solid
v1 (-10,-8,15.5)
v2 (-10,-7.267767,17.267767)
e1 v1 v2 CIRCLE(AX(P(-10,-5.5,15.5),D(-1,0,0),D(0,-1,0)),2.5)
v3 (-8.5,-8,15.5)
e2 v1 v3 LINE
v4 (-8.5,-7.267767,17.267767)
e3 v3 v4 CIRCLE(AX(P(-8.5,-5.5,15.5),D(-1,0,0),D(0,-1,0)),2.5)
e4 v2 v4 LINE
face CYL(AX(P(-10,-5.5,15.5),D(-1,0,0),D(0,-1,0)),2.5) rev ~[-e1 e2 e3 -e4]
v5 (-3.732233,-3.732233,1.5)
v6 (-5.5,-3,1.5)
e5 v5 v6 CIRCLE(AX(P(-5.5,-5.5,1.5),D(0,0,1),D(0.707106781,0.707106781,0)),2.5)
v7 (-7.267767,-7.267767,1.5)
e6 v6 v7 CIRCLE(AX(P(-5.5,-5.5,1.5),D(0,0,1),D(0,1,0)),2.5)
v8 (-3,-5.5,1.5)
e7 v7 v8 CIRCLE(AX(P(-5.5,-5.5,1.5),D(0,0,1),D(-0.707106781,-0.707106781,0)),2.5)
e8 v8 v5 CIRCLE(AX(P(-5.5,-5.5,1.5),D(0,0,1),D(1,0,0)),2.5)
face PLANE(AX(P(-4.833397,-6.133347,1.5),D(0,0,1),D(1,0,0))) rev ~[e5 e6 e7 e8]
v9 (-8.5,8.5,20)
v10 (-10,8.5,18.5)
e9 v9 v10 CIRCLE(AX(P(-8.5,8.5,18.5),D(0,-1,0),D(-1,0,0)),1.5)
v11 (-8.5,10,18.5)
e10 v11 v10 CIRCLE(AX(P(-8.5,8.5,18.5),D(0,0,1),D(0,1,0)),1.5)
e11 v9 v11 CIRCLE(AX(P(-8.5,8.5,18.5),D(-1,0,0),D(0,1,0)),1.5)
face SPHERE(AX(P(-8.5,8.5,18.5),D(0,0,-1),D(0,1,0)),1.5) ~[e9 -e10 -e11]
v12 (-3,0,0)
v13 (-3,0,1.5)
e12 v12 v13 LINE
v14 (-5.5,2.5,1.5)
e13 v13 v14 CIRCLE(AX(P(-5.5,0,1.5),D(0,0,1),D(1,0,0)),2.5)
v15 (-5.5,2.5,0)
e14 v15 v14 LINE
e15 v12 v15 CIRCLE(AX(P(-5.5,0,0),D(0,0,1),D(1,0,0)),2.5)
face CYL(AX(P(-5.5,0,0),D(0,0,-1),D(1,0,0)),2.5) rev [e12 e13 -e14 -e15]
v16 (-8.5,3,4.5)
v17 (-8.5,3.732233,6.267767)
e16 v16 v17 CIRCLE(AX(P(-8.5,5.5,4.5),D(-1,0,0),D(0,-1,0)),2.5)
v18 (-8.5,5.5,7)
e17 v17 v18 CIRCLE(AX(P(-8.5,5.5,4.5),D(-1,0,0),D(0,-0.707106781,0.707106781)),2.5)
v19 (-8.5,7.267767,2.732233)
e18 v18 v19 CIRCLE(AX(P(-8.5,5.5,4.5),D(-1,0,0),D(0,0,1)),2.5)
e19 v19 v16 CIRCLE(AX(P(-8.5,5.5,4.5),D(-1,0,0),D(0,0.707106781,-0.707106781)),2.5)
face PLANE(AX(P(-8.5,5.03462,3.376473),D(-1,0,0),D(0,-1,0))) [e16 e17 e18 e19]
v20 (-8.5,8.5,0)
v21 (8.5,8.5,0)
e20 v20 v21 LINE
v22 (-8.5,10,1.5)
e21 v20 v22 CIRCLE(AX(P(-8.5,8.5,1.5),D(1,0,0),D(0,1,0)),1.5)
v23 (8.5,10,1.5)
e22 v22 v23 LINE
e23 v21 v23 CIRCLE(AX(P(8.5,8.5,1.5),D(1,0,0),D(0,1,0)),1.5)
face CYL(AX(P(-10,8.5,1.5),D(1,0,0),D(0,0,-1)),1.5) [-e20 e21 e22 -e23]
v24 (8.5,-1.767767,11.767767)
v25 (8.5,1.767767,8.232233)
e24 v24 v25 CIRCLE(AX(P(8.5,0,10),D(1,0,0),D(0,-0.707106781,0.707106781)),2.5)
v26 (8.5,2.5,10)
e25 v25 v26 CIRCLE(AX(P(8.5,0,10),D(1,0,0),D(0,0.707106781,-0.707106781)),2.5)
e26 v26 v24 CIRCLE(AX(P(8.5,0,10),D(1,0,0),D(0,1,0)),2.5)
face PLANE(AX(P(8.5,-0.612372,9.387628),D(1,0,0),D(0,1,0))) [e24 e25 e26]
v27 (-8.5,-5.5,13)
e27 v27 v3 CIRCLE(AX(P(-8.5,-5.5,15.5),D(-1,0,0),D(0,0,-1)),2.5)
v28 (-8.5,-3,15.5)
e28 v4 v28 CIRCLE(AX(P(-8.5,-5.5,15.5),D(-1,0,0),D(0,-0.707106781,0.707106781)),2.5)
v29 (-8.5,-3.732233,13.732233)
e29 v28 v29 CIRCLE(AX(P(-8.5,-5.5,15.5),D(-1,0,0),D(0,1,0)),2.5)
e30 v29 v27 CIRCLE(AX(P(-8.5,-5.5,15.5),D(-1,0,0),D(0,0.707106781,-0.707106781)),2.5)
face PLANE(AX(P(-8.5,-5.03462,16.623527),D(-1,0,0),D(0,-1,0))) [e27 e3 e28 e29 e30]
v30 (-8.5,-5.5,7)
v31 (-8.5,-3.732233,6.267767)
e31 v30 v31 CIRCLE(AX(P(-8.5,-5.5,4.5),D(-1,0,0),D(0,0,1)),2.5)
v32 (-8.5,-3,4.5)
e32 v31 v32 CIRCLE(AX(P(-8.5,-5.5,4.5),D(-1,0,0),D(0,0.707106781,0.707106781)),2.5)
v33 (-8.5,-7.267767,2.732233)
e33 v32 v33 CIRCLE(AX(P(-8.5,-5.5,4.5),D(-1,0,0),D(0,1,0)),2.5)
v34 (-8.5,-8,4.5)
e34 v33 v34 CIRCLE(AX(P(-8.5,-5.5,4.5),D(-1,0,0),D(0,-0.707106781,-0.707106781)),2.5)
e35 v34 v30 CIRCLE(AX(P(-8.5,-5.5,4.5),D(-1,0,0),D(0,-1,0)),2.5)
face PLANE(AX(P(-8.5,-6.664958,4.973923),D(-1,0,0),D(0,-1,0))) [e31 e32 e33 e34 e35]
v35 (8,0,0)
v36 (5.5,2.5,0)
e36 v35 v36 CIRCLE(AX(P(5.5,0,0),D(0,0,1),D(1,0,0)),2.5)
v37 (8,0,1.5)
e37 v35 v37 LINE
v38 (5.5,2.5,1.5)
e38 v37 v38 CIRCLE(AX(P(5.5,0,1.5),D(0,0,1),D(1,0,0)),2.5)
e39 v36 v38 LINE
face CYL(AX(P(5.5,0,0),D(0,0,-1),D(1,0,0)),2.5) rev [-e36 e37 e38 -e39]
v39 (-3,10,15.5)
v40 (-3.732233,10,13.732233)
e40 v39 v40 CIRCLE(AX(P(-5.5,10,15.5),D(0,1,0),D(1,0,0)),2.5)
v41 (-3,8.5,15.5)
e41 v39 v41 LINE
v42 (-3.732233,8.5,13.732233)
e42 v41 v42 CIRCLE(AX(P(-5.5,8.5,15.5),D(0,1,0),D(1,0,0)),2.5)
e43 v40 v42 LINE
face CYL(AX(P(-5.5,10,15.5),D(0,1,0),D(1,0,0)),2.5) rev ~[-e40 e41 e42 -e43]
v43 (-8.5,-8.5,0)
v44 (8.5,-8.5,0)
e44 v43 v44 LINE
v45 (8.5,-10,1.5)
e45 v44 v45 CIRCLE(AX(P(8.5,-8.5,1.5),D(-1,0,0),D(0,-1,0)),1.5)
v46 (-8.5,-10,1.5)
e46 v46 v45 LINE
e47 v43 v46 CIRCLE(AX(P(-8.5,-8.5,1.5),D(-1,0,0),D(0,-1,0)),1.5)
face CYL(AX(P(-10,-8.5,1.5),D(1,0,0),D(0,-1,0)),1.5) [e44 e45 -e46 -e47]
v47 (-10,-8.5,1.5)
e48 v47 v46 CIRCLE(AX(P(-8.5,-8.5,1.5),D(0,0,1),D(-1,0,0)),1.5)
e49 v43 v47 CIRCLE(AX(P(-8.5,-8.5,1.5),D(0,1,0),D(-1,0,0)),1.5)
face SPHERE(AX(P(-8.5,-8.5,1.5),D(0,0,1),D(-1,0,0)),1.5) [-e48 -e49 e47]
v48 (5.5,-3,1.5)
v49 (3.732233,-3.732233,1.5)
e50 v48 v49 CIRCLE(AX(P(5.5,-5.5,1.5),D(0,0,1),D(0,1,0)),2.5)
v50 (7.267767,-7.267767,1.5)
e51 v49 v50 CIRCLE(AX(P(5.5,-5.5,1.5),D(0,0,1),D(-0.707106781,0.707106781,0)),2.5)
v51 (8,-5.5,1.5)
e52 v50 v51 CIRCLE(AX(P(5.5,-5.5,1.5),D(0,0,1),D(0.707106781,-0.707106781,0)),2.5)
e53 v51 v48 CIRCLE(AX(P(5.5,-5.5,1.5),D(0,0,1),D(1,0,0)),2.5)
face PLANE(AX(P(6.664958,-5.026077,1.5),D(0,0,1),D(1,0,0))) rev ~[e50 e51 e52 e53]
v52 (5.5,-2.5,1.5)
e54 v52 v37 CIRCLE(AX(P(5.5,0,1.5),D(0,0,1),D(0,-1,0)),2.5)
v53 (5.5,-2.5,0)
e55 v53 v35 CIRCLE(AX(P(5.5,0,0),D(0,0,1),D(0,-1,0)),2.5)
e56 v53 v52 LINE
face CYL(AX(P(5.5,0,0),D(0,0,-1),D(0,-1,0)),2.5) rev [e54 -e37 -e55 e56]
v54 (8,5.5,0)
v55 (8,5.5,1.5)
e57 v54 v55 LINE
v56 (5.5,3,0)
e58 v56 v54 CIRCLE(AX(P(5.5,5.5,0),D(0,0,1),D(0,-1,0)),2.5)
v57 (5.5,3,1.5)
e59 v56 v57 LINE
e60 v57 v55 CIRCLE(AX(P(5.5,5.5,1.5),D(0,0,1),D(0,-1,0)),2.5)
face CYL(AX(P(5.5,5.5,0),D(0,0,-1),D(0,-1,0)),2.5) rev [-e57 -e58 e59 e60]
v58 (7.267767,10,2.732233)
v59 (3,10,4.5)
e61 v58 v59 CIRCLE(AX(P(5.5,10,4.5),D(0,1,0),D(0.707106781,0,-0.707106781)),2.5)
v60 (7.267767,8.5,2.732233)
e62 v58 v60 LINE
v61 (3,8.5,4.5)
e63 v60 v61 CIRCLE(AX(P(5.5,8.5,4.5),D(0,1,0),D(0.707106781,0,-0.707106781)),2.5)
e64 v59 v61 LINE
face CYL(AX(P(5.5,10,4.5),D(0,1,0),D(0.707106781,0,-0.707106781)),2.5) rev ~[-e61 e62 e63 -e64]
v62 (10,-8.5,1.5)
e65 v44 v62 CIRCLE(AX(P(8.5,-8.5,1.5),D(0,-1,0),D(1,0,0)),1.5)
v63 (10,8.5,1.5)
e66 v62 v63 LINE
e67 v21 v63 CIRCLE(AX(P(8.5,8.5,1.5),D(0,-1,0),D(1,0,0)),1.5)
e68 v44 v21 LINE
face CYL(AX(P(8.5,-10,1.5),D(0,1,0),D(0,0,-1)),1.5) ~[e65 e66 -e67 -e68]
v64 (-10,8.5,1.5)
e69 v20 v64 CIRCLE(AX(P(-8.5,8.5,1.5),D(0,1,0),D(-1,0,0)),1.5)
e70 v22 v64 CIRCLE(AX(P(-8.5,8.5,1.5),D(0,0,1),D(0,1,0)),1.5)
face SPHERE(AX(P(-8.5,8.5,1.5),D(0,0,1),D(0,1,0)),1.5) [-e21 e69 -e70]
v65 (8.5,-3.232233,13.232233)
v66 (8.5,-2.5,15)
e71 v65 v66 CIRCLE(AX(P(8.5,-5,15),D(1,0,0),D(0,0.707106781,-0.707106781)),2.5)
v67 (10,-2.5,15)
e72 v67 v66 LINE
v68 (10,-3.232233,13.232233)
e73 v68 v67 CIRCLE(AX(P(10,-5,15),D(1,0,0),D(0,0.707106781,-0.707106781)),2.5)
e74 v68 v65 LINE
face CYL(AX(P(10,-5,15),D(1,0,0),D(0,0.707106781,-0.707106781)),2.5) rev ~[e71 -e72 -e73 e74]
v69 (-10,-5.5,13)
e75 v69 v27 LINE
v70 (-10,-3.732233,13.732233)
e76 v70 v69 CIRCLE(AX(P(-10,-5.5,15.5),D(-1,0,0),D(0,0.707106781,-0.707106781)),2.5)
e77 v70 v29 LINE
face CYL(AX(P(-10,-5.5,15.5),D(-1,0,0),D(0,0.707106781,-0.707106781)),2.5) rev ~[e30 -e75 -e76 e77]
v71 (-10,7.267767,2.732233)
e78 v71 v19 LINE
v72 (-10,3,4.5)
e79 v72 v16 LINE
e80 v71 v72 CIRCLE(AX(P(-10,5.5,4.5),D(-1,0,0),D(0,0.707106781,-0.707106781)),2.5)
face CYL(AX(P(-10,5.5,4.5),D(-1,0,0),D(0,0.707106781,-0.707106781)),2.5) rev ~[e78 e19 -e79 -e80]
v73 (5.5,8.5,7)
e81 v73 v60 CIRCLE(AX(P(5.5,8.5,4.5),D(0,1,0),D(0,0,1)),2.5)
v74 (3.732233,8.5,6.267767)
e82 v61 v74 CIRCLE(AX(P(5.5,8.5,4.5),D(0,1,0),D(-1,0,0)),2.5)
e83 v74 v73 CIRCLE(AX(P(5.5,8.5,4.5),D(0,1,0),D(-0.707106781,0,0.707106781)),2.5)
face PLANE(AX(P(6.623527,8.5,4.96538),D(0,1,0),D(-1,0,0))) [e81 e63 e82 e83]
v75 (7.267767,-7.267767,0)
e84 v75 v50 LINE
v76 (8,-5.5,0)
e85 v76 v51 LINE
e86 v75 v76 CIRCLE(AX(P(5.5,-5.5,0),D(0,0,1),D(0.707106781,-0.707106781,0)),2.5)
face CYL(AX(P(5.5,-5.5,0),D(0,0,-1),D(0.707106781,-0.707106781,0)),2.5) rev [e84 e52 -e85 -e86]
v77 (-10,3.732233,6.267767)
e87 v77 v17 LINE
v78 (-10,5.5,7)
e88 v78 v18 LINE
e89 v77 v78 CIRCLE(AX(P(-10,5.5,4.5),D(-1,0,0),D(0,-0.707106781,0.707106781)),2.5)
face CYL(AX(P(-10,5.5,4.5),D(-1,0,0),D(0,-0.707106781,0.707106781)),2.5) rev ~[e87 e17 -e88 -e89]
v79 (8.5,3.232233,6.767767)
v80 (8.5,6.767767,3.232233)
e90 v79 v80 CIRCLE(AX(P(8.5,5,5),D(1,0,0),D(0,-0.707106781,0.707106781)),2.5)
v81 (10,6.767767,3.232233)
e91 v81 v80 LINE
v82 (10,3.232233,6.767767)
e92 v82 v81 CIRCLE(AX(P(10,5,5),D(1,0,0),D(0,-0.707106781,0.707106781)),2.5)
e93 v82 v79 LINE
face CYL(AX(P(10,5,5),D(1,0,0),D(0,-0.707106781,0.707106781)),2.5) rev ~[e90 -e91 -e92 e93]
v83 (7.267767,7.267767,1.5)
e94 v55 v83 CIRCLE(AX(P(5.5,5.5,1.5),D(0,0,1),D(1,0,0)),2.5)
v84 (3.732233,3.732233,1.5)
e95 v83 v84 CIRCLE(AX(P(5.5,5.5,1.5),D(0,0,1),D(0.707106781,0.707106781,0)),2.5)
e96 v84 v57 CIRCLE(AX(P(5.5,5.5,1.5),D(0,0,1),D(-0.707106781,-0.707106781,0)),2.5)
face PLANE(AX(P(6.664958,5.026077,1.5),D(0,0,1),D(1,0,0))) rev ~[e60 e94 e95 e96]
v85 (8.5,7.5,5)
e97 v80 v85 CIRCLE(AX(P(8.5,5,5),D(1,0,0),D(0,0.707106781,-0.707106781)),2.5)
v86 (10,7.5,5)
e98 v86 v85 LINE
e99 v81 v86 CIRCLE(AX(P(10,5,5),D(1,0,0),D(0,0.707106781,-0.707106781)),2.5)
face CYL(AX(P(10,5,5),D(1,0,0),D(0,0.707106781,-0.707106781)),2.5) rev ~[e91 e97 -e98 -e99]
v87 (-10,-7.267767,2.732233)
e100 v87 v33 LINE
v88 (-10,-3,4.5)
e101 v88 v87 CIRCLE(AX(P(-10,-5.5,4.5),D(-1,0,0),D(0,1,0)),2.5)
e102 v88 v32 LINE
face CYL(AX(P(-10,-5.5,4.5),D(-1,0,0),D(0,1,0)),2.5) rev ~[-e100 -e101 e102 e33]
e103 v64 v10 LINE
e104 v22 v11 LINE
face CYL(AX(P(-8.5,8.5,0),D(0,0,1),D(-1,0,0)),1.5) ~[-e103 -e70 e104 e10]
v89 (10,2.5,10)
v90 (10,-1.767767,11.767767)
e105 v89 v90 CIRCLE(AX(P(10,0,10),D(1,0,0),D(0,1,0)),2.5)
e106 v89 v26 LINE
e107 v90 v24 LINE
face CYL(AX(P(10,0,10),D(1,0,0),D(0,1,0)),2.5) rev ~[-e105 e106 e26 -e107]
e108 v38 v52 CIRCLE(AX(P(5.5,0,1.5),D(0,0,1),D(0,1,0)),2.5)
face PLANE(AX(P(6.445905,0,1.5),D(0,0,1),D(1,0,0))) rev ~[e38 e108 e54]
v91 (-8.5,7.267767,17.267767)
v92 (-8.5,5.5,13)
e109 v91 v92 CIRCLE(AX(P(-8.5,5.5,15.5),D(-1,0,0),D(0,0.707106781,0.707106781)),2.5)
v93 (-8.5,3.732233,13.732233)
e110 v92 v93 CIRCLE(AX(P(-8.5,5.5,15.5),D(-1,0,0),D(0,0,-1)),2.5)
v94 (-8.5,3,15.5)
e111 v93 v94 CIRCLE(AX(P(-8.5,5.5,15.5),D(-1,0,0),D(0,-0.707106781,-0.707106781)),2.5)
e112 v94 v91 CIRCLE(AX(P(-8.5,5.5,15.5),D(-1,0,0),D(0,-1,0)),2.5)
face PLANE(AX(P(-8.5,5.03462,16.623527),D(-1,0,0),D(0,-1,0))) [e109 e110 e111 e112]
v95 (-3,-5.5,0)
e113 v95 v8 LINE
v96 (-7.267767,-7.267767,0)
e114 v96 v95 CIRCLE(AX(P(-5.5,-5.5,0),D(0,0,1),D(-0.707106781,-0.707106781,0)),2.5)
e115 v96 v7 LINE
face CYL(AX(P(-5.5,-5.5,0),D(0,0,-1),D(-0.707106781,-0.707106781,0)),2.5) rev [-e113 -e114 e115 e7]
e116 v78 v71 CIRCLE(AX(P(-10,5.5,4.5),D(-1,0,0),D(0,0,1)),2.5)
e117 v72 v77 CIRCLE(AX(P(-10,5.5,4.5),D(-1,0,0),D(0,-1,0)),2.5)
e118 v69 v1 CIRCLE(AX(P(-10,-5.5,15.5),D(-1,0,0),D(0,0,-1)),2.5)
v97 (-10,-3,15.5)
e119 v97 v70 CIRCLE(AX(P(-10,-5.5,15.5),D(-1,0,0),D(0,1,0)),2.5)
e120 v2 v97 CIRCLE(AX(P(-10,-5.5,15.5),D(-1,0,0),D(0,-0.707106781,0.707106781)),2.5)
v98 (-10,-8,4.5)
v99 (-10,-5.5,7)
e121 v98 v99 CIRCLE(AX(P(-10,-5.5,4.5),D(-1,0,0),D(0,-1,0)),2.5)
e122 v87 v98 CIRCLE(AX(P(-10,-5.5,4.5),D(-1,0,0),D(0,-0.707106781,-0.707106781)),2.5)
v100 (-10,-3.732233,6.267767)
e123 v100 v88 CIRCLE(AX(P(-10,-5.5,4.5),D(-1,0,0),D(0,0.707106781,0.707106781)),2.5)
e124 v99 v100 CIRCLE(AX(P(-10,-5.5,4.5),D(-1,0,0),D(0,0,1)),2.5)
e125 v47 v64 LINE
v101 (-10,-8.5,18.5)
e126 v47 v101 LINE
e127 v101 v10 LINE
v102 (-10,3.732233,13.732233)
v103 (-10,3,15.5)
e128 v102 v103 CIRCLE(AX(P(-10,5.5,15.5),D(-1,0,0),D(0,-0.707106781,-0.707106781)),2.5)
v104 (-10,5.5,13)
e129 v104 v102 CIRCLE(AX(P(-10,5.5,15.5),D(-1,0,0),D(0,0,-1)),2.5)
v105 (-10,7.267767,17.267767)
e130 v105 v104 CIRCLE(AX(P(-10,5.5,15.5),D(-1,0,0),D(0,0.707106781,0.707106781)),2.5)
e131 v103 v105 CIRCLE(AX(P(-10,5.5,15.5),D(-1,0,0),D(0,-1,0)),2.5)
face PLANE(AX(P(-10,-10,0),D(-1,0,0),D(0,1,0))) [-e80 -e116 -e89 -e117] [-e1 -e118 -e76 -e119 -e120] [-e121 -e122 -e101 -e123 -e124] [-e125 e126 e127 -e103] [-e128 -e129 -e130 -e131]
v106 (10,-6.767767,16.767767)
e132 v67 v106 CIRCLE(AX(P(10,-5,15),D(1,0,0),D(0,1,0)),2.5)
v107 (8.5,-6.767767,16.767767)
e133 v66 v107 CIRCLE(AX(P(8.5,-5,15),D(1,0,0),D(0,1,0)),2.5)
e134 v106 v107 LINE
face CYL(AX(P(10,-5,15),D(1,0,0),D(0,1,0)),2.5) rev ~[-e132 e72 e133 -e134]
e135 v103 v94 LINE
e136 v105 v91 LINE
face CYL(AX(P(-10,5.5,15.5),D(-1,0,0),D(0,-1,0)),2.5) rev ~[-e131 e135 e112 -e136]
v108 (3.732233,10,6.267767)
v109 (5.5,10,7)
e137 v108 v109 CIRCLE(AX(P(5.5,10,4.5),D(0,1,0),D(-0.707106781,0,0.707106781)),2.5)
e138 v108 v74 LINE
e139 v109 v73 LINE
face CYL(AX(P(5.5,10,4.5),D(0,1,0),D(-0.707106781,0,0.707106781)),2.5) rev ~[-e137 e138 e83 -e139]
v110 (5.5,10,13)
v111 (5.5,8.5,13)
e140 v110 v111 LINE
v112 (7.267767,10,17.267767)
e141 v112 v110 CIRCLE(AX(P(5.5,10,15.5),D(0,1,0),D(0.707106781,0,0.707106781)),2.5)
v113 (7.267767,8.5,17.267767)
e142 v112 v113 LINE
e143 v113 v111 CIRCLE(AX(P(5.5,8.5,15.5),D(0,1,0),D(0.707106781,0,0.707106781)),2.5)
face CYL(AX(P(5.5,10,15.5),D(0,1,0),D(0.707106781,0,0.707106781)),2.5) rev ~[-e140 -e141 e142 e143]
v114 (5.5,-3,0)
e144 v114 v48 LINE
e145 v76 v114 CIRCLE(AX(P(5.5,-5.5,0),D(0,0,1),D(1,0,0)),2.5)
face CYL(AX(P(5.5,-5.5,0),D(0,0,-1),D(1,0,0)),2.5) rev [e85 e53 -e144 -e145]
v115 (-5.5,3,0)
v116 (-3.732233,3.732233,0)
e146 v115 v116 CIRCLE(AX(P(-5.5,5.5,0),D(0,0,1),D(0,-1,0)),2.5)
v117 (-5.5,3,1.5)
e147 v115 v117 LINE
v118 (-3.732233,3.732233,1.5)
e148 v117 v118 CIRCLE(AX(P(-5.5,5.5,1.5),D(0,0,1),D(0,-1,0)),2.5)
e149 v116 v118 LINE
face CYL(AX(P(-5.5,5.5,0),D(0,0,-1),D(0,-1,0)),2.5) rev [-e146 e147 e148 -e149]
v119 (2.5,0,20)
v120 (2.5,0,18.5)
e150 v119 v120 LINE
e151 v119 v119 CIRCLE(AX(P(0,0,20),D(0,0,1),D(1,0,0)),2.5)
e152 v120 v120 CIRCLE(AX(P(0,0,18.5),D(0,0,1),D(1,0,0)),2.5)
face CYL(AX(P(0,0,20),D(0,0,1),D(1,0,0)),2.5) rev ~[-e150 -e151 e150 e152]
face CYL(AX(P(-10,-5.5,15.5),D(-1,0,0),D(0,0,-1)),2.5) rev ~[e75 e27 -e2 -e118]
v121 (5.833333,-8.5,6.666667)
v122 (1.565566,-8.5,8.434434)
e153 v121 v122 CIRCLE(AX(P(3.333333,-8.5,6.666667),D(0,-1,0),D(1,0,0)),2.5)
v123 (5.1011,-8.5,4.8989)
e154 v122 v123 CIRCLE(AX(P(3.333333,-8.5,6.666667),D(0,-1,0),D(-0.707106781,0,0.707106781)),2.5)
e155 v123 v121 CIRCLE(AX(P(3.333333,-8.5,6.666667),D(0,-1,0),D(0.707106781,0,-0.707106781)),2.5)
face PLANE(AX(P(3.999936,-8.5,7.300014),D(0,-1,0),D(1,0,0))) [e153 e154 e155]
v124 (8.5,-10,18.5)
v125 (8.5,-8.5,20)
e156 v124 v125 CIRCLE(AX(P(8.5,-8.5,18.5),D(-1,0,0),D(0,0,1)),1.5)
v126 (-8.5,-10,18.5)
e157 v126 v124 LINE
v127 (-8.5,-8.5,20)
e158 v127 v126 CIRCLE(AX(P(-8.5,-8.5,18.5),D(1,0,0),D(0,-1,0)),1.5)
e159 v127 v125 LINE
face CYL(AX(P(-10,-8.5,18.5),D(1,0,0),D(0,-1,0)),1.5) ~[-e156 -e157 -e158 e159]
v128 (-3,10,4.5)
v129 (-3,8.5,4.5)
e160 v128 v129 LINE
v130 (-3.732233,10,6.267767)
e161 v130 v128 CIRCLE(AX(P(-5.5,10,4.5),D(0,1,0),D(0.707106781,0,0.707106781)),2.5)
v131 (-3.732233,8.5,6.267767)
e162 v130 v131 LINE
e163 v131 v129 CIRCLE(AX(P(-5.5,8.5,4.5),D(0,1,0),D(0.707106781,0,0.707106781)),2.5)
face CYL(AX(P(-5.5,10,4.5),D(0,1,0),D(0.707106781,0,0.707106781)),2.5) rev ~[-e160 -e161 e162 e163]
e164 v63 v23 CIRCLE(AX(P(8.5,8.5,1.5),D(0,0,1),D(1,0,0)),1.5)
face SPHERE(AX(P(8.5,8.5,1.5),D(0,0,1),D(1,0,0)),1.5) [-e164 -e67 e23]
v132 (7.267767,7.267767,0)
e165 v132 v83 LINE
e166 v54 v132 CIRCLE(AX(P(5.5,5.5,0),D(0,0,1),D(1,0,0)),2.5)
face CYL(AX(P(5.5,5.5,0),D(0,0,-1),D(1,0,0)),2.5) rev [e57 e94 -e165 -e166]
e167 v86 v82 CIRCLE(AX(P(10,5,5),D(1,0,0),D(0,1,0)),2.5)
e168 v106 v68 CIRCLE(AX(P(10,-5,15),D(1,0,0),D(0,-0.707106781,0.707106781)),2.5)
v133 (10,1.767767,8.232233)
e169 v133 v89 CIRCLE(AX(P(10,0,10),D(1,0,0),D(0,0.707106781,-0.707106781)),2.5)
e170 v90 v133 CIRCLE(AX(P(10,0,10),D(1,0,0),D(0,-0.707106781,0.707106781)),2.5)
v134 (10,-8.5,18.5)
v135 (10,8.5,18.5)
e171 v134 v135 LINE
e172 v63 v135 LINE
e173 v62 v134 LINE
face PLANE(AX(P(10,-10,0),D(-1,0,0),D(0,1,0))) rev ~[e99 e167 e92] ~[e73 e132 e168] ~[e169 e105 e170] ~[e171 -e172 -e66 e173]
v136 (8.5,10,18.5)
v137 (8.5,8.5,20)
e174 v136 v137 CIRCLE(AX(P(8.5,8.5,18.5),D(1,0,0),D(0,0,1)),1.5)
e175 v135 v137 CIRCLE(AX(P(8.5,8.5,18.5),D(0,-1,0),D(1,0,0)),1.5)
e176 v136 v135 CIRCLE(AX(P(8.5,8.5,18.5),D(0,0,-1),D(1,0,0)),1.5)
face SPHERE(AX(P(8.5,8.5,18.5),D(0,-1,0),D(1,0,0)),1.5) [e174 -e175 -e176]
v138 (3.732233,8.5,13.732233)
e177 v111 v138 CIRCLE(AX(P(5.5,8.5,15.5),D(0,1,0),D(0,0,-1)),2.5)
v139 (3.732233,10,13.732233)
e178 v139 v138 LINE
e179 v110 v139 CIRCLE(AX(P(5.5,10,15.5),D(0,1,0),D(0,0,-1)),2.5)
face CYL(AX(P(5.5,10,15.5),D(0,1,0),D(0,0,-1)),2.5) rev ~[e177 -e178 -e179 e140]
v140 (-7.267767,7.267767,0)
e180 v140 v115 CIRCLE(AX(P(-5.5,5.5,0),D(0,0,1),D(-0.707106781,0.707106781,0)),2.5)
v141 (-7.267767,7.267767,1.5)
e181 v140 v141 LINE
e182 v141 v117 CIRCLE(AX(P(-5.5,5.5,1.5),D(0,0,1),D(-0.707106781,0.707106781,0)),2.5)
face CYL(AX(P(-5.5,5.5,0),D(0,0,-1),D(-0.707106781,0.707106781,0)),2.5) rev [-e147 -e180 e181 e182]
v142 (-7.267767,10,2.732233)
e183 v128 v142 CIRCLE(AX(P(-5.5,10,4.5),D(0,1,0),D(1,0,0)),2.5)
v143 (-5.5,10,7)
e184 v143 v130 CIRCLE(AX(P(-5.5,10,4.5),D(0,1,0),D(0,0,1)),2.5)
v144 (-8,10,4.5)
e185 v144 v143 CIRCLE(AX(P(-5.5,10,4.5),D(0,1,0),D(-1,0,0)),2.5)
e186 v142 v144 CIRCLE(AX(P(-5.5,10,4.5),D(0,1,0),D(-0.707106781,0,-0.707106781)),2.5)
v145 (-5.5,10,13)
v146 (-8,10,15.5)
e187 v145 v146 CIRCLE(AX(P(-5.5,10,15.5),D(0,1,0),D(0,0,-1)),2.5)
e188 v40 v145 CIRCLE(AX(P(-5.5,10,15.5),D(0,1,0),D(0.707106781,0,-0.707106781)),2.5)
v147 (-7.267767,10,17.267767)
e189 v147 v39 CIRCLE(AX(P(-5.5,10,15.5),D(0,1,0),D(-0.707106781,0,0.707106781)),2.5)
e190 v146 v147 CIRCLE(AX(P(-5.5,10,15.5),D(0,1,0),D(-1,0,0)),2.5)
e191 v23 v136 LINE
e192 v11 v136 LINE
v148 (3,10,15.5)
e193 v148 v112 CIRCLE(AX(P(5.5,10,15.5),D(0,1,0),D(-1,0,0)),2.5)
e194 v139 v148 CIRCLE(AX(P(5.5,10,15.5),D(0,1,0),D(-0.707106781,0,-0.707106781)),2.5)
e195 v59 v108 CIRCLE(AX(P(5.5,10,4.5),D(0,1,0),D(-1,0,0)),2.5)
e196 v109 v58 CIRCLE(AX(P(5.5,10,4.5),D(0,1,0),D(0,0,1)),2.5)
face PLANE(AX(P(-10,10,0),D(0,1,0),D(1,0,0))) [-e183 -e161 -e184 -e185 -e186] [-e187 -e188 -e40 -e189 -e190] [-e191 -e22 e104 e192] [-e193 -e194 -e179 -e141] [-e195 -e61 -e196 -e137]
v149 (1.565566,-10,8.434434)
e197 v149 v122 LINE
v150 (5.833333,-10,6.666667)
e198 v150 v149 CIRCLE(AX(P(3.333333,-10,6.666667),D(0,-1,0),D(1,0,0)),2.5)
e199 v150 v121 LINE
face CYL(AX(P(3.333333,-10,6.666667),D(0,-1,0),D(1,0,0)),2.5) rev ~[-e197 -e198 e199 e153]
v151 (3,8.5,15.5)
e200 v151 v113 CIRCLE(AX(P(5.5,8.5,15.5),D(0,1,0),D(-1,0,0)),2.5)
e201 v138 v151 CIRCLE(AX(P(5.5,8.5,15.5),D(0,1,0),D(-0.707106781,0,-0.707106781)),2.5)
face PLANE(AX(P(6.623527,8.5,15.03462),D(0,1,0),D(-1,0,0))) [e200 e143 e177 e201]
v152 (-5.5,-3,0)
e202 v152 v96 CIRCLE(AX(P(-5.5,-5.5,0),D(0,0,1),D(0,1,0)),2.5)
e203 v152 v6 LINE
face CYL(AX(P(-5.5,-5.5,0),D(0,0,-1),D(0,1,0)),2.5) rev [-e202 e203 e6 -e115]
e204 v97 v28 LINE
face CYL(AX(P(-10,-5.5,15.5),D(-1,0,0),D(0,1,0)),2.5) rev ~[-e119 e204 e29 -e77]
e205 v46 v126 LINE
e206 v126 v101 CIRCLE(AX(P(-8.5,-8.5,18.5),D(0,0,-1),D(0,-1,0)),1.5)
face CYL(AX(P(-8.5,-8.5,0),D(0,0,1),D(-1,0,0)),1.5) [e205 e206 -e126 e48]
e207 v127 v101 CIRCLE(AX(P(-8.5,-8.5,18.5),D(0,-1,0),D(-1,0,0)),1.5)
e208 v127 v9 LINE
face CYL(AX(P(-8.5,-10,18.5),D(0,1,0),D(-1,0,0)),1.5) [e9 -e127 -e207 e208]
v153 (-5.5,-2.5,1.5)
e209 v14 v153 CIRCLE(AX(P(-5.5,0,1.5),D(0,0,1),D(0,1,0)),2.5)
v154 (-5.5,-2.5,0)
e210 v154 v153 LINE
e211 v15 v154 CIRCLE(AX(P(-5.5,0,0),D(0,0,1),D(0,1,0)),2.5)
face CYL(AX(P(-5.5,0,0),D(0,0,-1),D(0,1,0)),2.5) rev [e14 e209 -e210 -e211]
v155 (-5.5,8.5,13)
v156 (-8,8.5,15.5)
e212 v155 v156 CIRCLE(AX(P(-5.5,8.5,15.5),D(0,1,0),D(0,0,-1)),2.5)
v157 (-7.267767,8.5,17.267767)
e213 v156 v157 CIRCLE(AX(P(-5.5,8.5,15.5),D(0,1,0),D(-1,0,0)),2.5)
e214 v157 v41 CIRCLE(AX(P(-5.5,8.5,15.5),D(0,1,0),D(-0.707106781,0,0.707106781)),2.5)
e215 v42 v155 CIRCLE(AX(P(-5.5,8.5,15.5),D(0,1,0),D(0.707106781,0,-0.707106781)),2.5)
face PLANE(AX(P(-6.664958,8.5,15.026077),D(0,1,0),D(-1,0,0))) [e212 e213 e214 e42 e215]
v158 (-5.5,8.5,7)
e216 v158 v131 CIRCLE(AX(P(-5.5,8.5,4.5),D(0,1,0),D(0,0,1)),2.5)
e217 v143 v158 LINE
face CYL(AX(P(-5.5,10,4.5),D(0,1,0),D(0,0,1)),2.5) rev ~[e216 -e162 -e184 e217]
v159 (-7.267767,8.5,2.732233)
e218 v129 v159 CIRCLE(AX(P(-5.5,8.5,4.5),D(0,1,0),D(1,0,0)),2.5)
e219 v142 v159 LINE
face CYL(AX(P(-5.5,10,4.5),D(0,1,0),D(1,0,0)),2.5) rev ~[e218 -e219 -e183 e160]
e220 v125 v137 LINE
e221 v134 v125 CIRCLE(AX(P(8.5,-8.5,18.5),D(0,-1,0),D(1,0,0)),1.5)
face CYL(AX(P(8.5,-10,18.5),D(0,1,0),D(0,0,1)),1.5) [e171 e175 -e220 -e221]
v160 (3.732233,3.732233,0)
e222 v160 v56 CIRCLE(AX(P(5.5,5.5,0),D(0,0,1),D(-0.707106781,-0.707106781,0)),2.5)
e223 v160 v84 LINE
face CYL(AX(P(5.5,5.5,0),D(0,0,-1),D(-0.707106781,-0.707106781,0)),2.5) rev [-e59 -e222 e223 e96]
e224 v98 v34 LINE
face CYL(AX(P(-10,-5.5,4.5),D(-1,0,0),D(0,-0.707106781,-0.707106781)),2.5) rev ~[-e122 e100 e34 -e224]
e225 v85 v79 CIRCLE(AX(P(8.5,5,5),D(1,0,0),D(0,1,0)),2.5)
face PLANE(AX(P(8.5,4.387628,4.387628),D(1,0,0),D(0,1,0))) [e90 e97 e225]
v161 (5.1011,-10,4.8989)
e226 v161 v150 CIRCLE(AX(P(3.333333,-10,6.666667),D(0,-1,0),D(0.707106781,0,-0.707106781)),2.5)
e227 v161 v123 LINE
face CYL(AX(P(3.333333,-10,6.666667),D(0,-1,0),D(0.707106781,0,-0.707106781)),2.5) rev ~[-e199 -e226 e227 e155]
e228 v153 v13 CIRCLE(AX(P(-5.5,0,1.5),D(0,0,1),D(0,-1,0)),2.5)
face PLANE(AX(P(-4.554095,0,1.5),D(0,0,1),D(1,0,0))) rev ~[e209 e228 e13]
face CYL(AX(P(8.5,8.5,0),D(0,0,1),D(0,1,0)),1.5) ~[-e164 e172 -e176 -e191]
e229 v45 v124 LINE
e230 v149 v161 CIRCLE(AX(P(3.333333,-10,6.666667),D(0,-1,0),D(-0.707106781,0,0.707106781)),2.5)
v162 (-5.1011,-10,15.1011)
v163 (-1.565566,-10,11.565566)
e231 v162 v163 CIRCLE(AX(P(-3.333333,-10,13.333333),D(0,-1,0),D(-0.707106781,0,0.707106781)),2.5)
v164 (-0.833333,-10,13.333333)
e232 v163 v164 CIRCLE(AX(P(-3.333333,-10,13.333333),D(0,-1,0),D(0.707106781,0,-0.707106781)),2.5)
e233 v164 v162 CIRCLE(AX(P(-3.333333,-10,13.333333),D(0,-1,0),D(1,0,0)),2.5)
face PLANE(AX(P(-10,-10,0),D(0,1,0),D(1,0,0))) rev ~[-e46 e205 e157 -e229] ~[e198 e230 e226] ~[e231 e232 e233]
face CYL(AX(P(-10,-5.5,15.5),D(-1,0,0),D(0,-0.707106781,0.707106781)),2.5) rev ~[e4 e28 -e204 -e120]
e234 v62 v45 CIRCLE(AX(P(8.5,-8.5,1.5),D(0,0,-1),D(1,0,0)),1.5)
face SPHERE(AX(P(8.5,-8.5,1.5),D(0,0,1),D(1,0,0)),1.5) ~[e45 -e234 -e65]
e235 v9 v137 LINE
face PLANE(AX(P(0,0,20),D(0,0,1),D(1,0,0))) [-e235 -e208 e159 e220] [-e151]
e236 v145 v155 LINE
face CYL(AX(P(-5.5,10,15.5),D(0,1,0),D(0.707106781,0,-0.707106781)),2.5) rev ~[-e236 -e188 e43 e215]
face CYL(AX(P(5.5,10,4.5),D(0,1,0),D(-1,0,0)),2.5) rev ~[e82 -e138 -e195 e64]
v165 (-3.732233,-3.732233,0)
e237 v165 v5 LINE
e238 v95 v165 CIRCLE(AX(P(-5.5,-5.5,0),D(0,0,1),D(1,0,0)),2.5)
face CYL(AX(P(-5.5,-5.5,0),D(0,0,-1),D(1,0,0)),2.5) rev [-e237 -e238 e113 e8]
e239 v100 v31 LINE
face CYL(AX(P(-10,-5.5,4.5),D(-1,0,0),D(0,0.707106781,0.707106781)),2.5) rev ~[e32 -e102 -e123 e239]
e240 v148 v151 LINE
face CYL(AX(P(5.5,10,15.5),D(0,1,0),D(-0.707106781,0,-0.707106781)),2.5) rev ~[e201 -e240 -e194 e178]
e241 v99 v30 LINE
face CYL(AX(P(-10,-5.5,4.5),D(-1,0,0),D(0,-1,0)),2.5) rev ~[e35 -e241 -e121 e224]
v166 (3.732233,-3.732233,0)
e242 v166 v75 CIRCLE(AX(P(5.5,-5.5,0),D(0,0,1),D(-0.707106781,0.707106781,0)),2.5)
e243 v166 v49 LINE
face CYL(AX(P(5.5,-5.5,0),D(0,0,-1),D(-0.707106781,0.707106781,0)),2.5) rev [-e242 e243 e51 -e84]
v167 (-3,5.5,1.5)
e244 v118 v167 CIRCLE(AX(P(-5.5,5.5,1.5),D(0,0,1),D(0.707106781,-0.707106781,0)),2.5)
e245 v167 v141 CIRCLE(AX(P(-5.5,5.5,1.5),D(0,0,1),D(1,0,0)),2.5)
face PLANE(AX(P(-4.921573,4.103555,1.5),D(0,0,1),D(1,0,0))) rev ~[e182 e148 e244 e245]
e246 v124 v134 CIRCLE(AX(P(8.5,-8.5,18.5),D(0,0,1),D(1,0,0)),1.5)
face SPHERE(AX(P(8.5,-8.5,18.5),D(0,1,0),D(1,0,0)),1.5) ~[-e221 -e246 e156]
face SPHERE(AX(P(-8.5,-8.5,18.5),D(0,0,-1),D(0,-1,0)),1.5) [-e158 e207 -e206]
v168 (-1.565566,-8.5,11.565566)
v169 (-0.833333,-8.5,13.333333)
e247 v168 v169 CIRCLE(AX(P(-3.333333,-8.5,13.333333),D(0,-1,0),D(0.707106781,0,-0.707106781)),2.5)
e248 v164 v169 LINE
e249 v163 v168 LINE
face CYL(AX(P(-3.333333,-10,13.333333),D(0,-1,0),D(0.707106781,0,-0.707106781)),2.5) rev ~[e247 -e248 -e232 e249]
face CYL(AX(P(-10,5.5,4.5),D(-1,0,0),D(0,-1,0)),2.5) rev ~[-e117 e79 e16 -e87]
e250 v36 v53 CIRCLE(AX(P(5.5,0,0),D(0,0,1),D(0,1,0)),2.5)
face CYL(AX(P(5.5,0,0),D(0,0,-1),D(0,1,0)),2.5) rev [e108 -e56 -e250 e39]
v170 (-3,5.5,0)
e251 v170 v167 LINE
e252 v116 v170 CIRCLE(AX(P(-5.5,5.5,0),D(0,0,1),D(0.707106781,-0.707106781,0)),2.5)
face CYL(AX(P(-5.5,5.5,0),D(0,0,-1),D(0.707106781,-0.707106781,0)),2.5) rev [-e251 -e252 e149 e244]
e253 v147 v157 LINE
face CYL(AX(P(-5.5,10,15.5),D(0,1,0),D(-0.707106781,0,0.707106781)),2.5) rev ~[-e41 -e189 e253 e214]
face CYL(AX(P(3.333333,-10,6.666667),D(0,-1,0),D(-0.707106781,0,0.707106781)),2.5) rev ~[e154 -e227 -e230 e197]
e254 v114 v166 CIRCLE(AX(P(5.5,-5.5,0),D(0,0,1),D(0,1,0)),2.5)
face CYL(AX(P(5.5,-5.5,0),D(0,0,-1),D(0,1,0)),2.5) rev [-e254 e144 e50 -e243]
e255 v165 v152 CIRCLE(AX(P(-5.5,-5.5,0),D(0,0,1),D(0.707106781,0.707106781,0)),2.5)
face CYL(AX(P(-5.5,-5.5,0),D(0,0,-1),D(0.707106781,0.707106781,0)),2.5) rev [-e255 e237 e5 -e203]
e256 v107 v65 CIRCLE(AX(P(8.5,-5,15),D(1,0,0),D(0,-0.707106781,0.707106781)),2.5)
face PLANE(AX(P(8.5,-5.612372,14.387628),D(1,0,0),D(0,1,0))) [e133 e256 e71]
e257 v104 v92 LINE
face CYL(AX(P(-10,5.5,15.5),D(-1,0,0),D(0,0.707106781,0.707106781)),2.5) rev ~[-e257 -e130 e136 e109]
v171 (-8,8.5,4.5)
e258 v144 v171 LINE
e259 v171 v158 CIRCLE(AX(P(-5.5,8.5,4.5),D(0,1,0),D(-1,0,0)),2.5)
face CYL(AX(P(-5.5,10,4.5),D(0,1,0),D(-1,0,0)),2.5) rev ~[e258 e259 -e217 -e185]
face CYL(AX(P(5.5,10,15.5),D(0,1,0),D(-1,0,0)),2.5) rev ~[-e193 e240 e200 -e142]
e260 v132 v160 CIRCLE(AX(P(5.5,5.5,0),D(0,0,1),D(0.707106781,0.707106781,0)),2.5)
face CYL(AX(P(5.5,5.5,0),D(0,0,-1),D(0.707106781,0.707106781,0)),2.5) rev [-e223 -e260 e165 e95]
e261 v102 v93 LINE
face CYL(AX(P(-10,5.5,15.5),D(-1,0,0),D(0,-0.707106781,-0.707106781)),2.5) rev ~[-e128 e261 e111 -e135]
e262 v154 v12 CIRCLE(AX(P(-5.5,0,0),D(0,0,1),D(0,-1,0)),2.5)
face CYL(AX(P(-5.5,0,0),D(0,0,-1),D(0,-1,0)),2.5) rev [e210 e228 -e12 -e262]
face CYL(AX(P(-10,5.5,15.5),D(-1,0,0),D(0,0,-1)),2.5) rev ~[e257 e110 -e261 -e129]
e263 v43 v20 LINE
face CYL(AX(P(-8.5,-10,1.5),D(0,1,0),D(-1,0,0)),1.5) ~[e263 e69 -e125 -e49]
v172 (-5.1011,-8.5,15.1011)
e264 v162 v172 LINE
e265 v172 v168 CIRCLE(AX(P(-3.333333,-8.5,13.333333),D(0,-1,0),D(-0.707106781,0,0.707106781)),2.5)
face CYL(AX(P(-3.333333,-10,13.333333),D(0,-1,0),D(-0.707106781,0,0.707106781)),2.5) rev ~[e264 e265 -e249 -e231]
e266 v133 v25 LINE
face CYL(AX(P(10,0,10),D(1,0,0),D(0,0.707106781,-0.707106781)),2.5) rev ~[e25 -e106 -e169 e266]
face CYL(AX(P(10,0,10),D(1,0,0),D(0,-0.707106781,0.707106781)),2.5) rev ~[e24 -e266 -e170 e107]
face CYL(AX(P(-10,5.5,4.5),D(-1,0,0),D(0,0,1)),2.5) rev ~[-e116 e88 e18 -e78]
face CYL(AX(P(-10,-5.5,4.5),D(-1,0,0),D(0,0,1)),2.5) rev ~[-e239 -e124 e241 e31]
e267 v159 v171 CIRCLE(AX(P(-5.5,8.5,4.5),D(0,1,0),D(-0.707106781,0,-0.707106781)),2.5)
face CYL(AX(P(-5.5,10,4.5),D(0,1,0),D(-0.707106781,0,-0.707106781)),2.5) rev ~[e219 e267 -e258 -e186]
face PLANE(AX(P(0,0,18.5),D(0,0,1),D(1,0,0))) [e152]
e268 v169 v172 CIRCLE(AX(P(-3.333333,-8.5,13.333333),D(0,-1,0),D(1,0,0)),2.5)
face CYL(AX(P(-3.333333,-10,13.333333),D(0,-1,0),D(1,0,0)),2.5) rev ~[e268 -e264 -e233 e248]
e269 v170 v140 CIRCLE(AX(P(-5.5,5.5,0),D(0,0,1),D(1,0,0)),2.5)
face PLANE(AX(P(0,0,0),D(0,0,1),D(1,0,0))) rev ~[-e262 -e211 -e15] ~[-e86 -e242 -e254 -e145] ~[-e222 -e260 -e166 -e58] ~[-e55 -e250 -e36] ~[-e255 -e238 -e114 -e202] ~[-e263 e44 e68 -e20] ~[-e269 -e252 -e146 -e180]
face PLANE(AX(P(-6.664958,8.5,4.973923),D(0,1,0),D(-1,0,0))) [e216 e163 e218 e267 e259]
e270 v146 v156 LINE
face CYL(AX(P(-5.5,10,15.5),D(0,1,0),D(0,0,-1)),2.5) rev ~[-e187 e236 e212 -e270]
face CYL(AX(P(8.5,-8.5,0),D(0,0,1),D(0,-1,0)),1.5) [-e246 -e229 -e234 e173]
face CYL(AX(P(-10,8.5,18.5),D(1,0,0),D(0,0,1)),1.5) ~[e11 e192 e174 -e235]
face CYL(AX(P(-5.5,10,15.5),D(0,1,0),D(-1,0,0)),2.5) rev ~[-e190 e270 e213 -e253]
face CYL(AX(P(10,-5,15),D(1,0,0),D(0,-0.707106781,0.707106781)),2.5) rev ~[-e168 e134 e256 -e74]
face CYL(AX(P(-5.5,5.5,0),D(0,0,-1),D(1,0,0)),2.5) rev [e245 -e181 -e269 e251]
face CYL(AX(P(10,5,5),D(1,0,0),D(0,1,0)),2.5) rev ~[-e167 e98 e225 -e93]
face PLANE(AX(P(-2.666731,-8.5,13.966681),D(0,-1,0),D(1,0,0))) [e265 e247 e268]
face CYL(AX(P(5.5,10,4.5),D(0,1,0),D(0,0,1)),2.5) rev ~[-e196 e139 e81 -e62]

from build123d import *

# Parameters (mm, degrees)
F1_W      = 20
F1_H      = 20
F2_DEPTH  = 20
F3_R      = 2.5
F9_DEPTH  = 1.5
F10_DEPTH = 1.5
F11_DEPTH = 1.5
F12_DEPTH = 1.5
F13_DEPTH = 1.5
F14_DEPTH = 1.5
F15_R     = 1.5


with BuildPart() as f2:
    # F1 (on Top) → F2 (new body)
    with BuildSketch(Plane.XY):
        Rectangle(F1_W, F1_H)
    extrude(amount=F2_DEPTH)

    # F3 (on face) → F9 (cut)
    with BuildSketch(Plane.XY.offset(20)):
        Circle(F3_R)
    extrude(amount=-F9_DEPTH, mode=Mode.SUBTRACT)

    # F6 (on face) → F10 (cut)
    with BuildSketch(Plane.XZ.offset(10)):
        with BuildLine():
            ThreePointArc((-0.8333333333, 13.3333333333), (-2.3766247524, 15.6430321646), (-5.1011002863, 15.1011002863))
            Line((-5.1011002863, 15.1011002863), (-3.3333333333, 13.3333333333))
            Line((-3.3333333333, 13.3333333333), (-1.5655663804, 11.5655663804))
            ThreePointArc((-1.5655663804, 11.5655663804), (-1.0236345021, 12.3766247524), (-0.8333333333, 13.3333333333))
        make_face()
        with BuildLine():
            Line((-3.3333333333, 13.3333333333), (-5.1011002863, 15.1011002863))
            ThreePointArc((-5.1011002863, 15.1011002863), (-5.1011002863, 11.5655663804), (-1.5655663804, 11.5655663804))
            Line((-1.5655663804, 11.5655663804), (-3.3333333333, 13.3333333333))
        make_face()
        with BuildLine():
            ThreePointArc((5.8333333333, 6.6666666667), (4.2900419142, 8.9763654979), (1.5655663804, 8.4344336196))
            Line((1.5655663804, 8.4344336196), (3.3333333333, 6.6666666667))
            Line((3.3333333333, 6.6666666667), (5.1011002863, 4.8988997137))
            ThreePointArc((5.1011002863, 4.8988997137), (5.6430321646, 5.7099580858), (5.8333333333, 6.6666666667))
        make_face()
        with BuildLine():
            Line((3.3333333333, 6.6666666667), (1.5655663804, 8.4344336196))
            ThreePointArc((1.5655663804, 8.4344336196), (1.5655663804, 4.8988997137), (5.1011002863, 4.8988997137))
            Line((5.1011002863, 4.8988997137), (3.3333333333, 6.6666666667))
        make_face()
    extrude(amount=-F10_DEPTH, mode=Mode.SUBTRACT)

    # F8 (on face) → F11 (cut)
    with BuildSketch(Plane.YZ.offset(10)):
        with BuildLine():
            Line((-5, 15), (-6.767766953, 16.767766953))
            ThreePointArc((-6.767766953, 16.767766953), (-6.767766953, 13.232233047), (-3.232233047, 13.232233047))
            Line((-3.232233047, 13.232233047), (-5, 15))
        make_face()
        with BuildLine():
            ThreePointArc((-2.5, 15), (-4.0432914191, 17.3096988313), (-6.767766953, 16.767766953))
            Line((-6.767766953, 16.767766953), (-5, 15))
            Line((-5, 15), (-3.232233047, 13.232233047))
            ThreePointArc((-3.232233047, 13.232233047), (-2.6903011687, 14.0432914191), (-2.5, 15))
        make_face()
        with BuildLine():
            Line((0, 10), (-1.767766953, 11.767766953))
            ThreePointArc((-1.767766953, 11.767766953), (-1.767766953, 8.232233047), (1.767766953, 8.232233047))
            Line((1.767766953, 8.232233047), (0, 10))
        make_face()
        with BuildLine():
            ThreePointArc((2.5, 10), (0.9567085809, 12.3096988313), (-1.767766953, 11.767766953))
            Line((-1.767766953, 11.767766953), (0, 10))
            Line((0, 10), (1.767766953, 8.232233047))
            ThreePointArc((1.767766953, 8.232233047), (2.3096988313, 9.0432914191), (2.5, 10))
        make_face()
        with BuildLine():
            ThreePointArc((3.232233047, 6.767766953), (3.232233047, 3.232233047), (6.767766953, 3.232233047))
            Line((6.767766953, 3.232233047), (5, 5))
            Line((5, 5), (3.232233047, 6.767766953))
        make_face()
        with BuildLine():
            Line((5, 5), (6.767766953, 3.232233047))
            ThreePointArc((6.767766953, 3.232233047), (7.3096988313, 4.0432914191), (7.5, 5))
            ThreePointArc((7.5, 5), (5.9567085809, 7.3096988313), (3.232233047, 6.767766953))
            Line((3.232233047, 6.767766953), (5, 5))
        make_face()
    extrude(amount=-F11_DEPTH, mode=Mode.SUBTRACT)

    # F7 (on face) → F12 (cut)
    with BuildSketch(Plane(origin=(-10, 0, 0), x_dir=(0, -1, 0), z_dir=(-1, 0, 0))):
        with BuildLine():
            ThreePointArc((-3, 15.5), (-4.5432914191, 17.8096988313), (-7.267766953, 17.267766953))
            Line((-7.267766953, 17.267766953), (-5.5, 15.5))
            Line((-5.5, 15.5), (-3, 15.5))
        make_face()
        with BuildLine():
            Line((-5.5, 15.5), (-7.267766953, 17.267766953))
            ThreePointArc((-7.267766953, 17.267766953), (-7.8096988313, 14.5432914191), (-5.5, 13))
            Line((-5.5, 13), (-5.5, 15.5))
        make_face()
        with BuildLine():
            Line((-3.732233047, 13.732233047), (-5.5, 15.5))
            Line((-5.5, 15.5), (-5.5, 13))
            ThreePointArc((-5.5, 13), (-4.5432914191, 13.1903011687), (-3.732233047, 13.732233047))
        make_face()
        with BuildLine():
            Line((-3, 15.5), (-5.5, 15.5))
            Line((-5.5, 15.5), (-3.732233047, 13.732233047))
            ThreePointArc((-3.732233047, 13.732233047), (-3.1903011687, 14.5432914191), (-3, 15.5))
        make_face()
        with BuildLine():
            Line((5.5, 15.5), (7.267766953, 17.267766953))
            ThreePointArc((7.267766953, 17.267766953), (4.5432914191, 17.8096988313), (3, 15.5))
            Line((3, 15.5), (5.5, 15.5))
        make_face()
        with BuildLine():
            ThreePointArc((8, 15.5), (7.8096988313, 16.4567085809), (7.267766953, 17.267766953))
            Line((7.267766953, 17.267766953), (5.5, 15.5))
            Line((5.5, 15.5), (5.5, 13))
            ThreePointArc((5.5, 13), (7.267766953, 13.732233047), (8, 15.5))
        make_face()
        with BuildLine():
            Line((5.5, 13), (5.5, 15.5))
            Line((5.5, 15.5), (3.732233047, 13.732233047))
            ThreePointArc((3.732233047, 13.732233047), (4.5432914191, 13.1903011687), (5.5, 13))
        make_face()
        with BuildLine():
            Line((5.5, 15.5), (3, 15.5))
            ThreePointArc((3, 15.5), (3.1903011687, 14.5432914191), (3.732233047, 13.732233047))
            Line((3.732233047, 13.732233047), (5.5, 15.5))
        make_face()
        with BuildLine():
            Line((5.5, 4.5), (7.267766953, 2.732233047))
            ThreePointArc((7.267766953, 2.732233047), (7.8096988313, 3.5432914191), (8, 4.5))
            ThreePointArc((8, 4.5), (7.267766953, 6.267766953), (5.5, 7))
            Line((5.5, 7), (5.5, 4.5))
        make_face()
        with BuildLine():
            ThreePointArc((3, 4.5), (4.5432914191, 2.1903011687), (7.267766953, 2.732233047))
            Line((7.267766953, 2.732233047), (5.5, 4.5))
            Line((5.5, 4.5), (3, 4.5))
        make_face()
        with BuildLine():
            Line((3.732233047, 6.267766953), (5.5, 4.5))
            Line((5.5, 4.5), (5.5, 7))
            ThreePointArc((5.5, 7), (4.5432914191, 6.8096988313), (3.732233047, 6.267766953))
        make_face()
        with BuildLine():
            ThreePointArc((3.732233047, 6.267766953), (3.1903011687, 5.4567085809), (3, 4.5))
            Line((3, 4.5), (5.5, 4.5))
            Line((5.5, 4.5), (3.732233047, 6.267766953))
        make_face()
        with BuildLine():
            Line((-5.5, 4.5), (-7.267766953, 2.732233047))
            ThreePointArc((-7.267766953, 2.732233047), (-4.5432914191, 2.1903011687), (-3, 4.5))
            Line((-3, 4.5), (-5.5, 4.5))
        make_face()
        with BuildLine():
            Line((-3.732233047, 6.267766953), (-5.5, 4.5))
            Line((-5.5, 4.5), (-3, 4.5))
            ThreePointArc((-3, 4.5), (-3.1903011687, 5.4567085809), (-3.732233047, 6.267766953))
        make_face()
        with BuildLine():
            ThreePointArc((-3.732233047, 6.267766953), (-4.5432914191, 6.8096988313), (-5.5, 7))
            Line((-5.5, 7), (-5.5, 4.5))
            Line((-5.5, 4.5), (-3.732233047, 6.267766953))
        make_face()
        with BuildLine():
            ThreePointArc((-5.5, 7), (-7.8096988313, 5.4567085809), (-7.267766953, 2.732233047))
            Line((-7.267766953, 2.732233047), (-5.5, 4.5))
            Line((-5.5, 4.5), (-5.5, 7))
        make_face()
    extrude(amount=-F12_DEPTH, mode=Mode.SUBTRACT)

    # F5 (on face) → F13 (cut)
    with BuildSketch(Plane(origin=(0, 10, 0), x_dir=(-1, 0, 0), z_dir=(0, 1, 0))):
        with BuildLine():
            ThreePointArc((-5.5, 7), (-7.8096988313, 5.4567085809), (-7.267766953, 2.732233047))
            Line((-7.267766953, 2.732233047), (-5.5, 4.5))
            Line((-5.5, 4.5), (-5.5, 7))
        make_face()
        with BuildLine():
            Line((-5.5, 7), (-5.5, 4.5))
            Line((-5.5, 4.5), (-3.732233047, 6.267766953))
            ThreePointArc((-3.732233047, 6.267766953), (-4.5432914191, 6.8096988313), (-5.5, 7))
        make_face()
        with BuildLine():
            Line((-5.5, 4.5), (-7.267766953, 2.732233047))
            ThreePointArc((-7.267766953, 2.732233047), (-4.5432914191, 2.1903011687), (-3, 4.5))
            Line((-3, 4.5), (-5.5, 4.5))
        make_face()
        with BuildLine():
            Line((-3.732233047, 6.267766953), (-5.5, 4.5))
            Line((-5.5, 4.5), (-3, 4.5))
            ThreePointArc((-3, 4.5), (-3.1903011687, 5.4567085809), (-3.732233047, 6.267766953))
        make_face()
        with BuildLine():
            Line((-5.5, 15.5), (-7.267766953, 17.267766953))
            ThreePointArc((-7.267766953, 17.267766953), (-7.8096988313, 14.5432914191), (-5.5, 13))
            Line((-5.5, 13), (-5.5, 15.5))
        make_face()
        with BuildLine():
            ThreePointArc((-3, 15.5), (-4.5432914191, 17.8096988313), (-7.267766953, 17.267766953))
            Line((-7.267766953, 17.267766953), (-5.5, 15.5))
            Line((-5.5, 15.5), (-3, 15.5))
        make_face()
        with BuildLine():
            Line((-3, 15.5), (-5.5, 15.5))
            Line((-5.5, 15.5), (-3.732233047, 13.732233047))
            ThreePointArc((-3.732233047, 13.732233047), (-3.1903011687, 14.5432914191), (-3, 15.5))
        make_face()
        with BuildLine():
            Line((-5.5, 15.5), (-5.5, 13))
            ThreePointArc((-5.5, 13), (-4.5432914191, 13.1903011687), (-3.732233047, 13.732233047))
            Line((-3.732233047, 13.732233047), (-5.5, 15.5))
        make_face()
        with BuildLine():
            ThreePointArc((8, 15.5), (7.8096988313, 16.4567085809), (7.267766953, 17.267766953))
            Line((7.267766953, 17.267766953), (5.5, 15.5))
            Line((5.5, 15.5), (5.5, 13))
            ThreePointArc((5.5, 13), (7.267766953, 13.732233047), (8, 15.5))
        make_face()
        with BuildLine():
            Line((5.5, 13), (5.5, 15.5))
            Line((5.5, 15.5), (3.732233047, 13.732233047))
            ThreePointArc((3.732233047, 13.732233047), (4.5432914191, 13.1903011687), (5.5, 13))
        make_face()
        with BuildLine():
            Line((5.5, 15.5), (3, 15.5))
            ThreePointArc((3, 15.5), (3.1903011687, 14.5432914191), (3.732233047, 13.732233047))
            Line((3.732233047, 13.732233047), (5.5, 15.5))
        make_face()
        with BuildLine():
            Line((5.5, 15.5), (7.267766953, 17.267766953))
            ThreePointArc((7.267766953, 17.267766953), (4.5432914191, 17.8096988313), (3, 15.5))
            Line((3, 15.5), (5.5, 15.5))
        make_face()
        with BuildLine():
            Line((5.5, 4.5), (7.267766953, 2.732233047))
            ThreePointArc((7.267766953, 2.732233047), (7.8096988313, 3.5432914191), (8, 4.5))
            ThreePointArc((8, 4.5), (7.267766953, 6.267766953), (5.5, 7))
            Line((5.5, 7), (5.5, 4.5))
        make_face()
        with BuildLine():
            ThreePointArc((3.732233047, 6.267766953), (3.1903011687, 5.4567085809), (3, 4.5))
            Line((3, 4.5), (5.5, 4.5))
            Line((5.5, 4.5), (3.732233047, 6.267766953))
        make_face()
        with BuildLine():
            Line((3.732233047, 6.267766953), (5.5, 4.5))
            Line((5.5, 4.5), (5.5, 7))
            ThreePointArc((5.5, 7), (4.5432914191, 6.8096988313), (3.732233047, 6.267766953))
        make_face()
        with BuildLine():
            ThreePointArc((3, 4.5), (4.5432914191, 2.1903011687), (7.267766953, 2.732233047))
            Line((7.267766953, 2.732233047), (5.5, 4.5))
            Line((5.5, 4.5), (3, 4.5))
        make_face()
    extrude(amount=-F13_DEPTH, mode=Mode.SUBTRACT)

    # F4 (on face) → F14 (cut)
    with BuildSketch(Plane.XY):
        with BuildLine():
            ThreePointArc((8, -5.5), (7.267766953, -3.732233047), (5.5, -3))
            Line((5.5, -3), (5.5, -5.5))
            Line((5.5, -5.5), (7.267766953, -7.267766953))
            ThreePointArc((7.267766953, -7.267766953), (7.8096988313, -6.4567085809), (8, -5.5))
        make_face()
        with BuildLine():
            ThreePointArc((5.5, -3), (4.5432914191, -3.1903011687), (3.732233047, -3.732233047))
            Line((3.732233047, -3.732233047), (5.5, -5.5))
            Line((5.5, -5.5), (5.5, -3))
        make_face()
        with BuildLine():
            Line((5.5, -5.5), (3.732233047, -3.732233047))
            ThreePointArc((3.732233047, -3.732233047), (3.732233047, -7.267766953), (7.267766953, -7.267766953))
            Line((7.267766953, -7.267766953), (5.5, -5.5))
        make_face()
        with BuildLine():
            ThreePointArc((8, 0), (7.267766953, 1.767766953), (5.5, 2.5))
            Line((5.5, 2.5), (5.5, -2.5))
            ThreePointArc((5.5, -2.5), (7.267766953, -1.767766953), (8, 0))
        make_face()
        with BuildLine():
            Line((5.5, -2.5), (5.5, 2.5))
            ThreePointArc((5.5, 2.5), (3, 0), (5.5, -2.5))
        make_face()
        with BuildLine():
            ThreePointArc((8, 5.5), (7.8096988313, 6.4567085809), (7.267766953, 7.267766953))
            Line((7.267766953, 7.267766953), (5.5, 5.5))
            Line((5.5, 5.5), (5.5, 3))
            ThreePointArc((5.5, 3), (7.267766953, 3.732233047), (8, 5.5))
        make_face()
        with BuildLine():
            Line((5.5, 5.5), (3.732233047, 3.732233047))
            ThreePointArc((3.732233047, 3.732233047), (4.5432914191, 3.1903011687), (5.5, 3))
            Line((5.5, 3), (5.5, 5.5))
        make_face()
        with BuildLine():
            ThreePointArc((7.267766953, 7.267766953), (3.732233047, 7.267766953), (3.732233047, 3.732233047))
            Line((3.732233047, 3.732233047), (5.5, 5.5))
            Line((5.5, 5.5), (7.267766953, 7.267766953))
        make_face()
        with BuildLine():
            ThreePointArc((-5.5, 3), (-4.5432914191, 3.1903011687), (-3.732233047, 3.732233047))
            Line((-3.732233047, 3.732233047), (-5.5, 5.5))
            Line((-5.5, 5.5), (-5.5, 3))
        make_face()
        with BuildLine():
            Line((-5.5, 5.5), (-3.732233047, 3.732233047))
            ThreePointArc((-3.732233047, 3.732233047), (-3.1903011687, 4.5432914191), (-3, 5.5))
            ThreePointArc((-3, 5.5), (-4.5432914191, 7.8096988313), (-7.267766953, 7.267766953))
            Line((-7.267766953, 7.267766953), (-5.5, 5.5))
        make_face()
        with BuildLine():
            ThreePointArc((-7.267766953, 7.267766953), (-7.8096988313, 4.5432914191), (-5.5, 3))
            Line((-5.5, 3), (-5.5, 5.5))
            Line((-5.5, 5.5), (-7.267766953, 7.267766953))
        make_face()
        with BuildLine():
            Line((-5.5, 2.5), (-5.5, -2.5))
            ThreePointArc((-5.5, -2.5), (-3.732233047, -1.767766953), (-3, 0))
            ThreePointArc((-3, 0), (-3.732233047, 1.767766953), (-5.5, 2.5))
        make_face()
        with BuildLine():
            ThreePointArc((-5.5, 2.5), (-8, 0), (-5.5, -2.5))
            Line((-5.5, -2.5), (-5.5, 2.5))
        make_face()
        with BuildLine():
            ThreePointArc((-7.267766953, -7.267766953), (-4.5432914191, -7.8096988313), (-3, -5.5))
            ThreePointArc((-3, -5.5), (-3.1903011687, -4.5432914191), (-3.732233047, -3.732233047))
            Line((-3.732233047, -3.732233047), (-5.5, -5.5))
            Line((-5.5, -5.5), (-7.267766953, -7.267766953))
        make_face()
        with BuildLine():
            ThreePointArc((-5.5, -3), (-7.8096988313, -4.5432914191), (-7.267766953, -7.267766953))
            Line((-7.267766953, -7.267766953), (-5.5, -5.5))
            Line((-5.5, -5.5), (-5.5, -3))
        make_face()
        with BuildLine():
            Line((-5.5, -5.5), (-3.732233047, -3.732233047))
            ThreePointArc((-3.732233047, -3.732233047), (-4.5432914191, -3.1903011687), (-5.5, -3))
            Line((-5.5, -3), (-5.5, -5.5))
        make_face()
    extrude(amount=F14_DEPTH, mode=Mode.SUBTRACT)

    # F15
    f15_edges = [f2.edges().sort_by_distance(p)[0] for p in [
        (10, 0, 20),
        (10, -10, 10),
        (10, 10, 10),
        (10, 0, 0),
        (-10, -10, 10),
        (-10, 10, 10),
        (0, -10, 20),
        (0, 10, 20),
        (-10, 0, 20),
        (0, 10, 0),
        (-10, 0, 0),
        (0, -10, 0),
    ]]
    fillet(f15_edges, radius=F15_R)


solid = f2.part
